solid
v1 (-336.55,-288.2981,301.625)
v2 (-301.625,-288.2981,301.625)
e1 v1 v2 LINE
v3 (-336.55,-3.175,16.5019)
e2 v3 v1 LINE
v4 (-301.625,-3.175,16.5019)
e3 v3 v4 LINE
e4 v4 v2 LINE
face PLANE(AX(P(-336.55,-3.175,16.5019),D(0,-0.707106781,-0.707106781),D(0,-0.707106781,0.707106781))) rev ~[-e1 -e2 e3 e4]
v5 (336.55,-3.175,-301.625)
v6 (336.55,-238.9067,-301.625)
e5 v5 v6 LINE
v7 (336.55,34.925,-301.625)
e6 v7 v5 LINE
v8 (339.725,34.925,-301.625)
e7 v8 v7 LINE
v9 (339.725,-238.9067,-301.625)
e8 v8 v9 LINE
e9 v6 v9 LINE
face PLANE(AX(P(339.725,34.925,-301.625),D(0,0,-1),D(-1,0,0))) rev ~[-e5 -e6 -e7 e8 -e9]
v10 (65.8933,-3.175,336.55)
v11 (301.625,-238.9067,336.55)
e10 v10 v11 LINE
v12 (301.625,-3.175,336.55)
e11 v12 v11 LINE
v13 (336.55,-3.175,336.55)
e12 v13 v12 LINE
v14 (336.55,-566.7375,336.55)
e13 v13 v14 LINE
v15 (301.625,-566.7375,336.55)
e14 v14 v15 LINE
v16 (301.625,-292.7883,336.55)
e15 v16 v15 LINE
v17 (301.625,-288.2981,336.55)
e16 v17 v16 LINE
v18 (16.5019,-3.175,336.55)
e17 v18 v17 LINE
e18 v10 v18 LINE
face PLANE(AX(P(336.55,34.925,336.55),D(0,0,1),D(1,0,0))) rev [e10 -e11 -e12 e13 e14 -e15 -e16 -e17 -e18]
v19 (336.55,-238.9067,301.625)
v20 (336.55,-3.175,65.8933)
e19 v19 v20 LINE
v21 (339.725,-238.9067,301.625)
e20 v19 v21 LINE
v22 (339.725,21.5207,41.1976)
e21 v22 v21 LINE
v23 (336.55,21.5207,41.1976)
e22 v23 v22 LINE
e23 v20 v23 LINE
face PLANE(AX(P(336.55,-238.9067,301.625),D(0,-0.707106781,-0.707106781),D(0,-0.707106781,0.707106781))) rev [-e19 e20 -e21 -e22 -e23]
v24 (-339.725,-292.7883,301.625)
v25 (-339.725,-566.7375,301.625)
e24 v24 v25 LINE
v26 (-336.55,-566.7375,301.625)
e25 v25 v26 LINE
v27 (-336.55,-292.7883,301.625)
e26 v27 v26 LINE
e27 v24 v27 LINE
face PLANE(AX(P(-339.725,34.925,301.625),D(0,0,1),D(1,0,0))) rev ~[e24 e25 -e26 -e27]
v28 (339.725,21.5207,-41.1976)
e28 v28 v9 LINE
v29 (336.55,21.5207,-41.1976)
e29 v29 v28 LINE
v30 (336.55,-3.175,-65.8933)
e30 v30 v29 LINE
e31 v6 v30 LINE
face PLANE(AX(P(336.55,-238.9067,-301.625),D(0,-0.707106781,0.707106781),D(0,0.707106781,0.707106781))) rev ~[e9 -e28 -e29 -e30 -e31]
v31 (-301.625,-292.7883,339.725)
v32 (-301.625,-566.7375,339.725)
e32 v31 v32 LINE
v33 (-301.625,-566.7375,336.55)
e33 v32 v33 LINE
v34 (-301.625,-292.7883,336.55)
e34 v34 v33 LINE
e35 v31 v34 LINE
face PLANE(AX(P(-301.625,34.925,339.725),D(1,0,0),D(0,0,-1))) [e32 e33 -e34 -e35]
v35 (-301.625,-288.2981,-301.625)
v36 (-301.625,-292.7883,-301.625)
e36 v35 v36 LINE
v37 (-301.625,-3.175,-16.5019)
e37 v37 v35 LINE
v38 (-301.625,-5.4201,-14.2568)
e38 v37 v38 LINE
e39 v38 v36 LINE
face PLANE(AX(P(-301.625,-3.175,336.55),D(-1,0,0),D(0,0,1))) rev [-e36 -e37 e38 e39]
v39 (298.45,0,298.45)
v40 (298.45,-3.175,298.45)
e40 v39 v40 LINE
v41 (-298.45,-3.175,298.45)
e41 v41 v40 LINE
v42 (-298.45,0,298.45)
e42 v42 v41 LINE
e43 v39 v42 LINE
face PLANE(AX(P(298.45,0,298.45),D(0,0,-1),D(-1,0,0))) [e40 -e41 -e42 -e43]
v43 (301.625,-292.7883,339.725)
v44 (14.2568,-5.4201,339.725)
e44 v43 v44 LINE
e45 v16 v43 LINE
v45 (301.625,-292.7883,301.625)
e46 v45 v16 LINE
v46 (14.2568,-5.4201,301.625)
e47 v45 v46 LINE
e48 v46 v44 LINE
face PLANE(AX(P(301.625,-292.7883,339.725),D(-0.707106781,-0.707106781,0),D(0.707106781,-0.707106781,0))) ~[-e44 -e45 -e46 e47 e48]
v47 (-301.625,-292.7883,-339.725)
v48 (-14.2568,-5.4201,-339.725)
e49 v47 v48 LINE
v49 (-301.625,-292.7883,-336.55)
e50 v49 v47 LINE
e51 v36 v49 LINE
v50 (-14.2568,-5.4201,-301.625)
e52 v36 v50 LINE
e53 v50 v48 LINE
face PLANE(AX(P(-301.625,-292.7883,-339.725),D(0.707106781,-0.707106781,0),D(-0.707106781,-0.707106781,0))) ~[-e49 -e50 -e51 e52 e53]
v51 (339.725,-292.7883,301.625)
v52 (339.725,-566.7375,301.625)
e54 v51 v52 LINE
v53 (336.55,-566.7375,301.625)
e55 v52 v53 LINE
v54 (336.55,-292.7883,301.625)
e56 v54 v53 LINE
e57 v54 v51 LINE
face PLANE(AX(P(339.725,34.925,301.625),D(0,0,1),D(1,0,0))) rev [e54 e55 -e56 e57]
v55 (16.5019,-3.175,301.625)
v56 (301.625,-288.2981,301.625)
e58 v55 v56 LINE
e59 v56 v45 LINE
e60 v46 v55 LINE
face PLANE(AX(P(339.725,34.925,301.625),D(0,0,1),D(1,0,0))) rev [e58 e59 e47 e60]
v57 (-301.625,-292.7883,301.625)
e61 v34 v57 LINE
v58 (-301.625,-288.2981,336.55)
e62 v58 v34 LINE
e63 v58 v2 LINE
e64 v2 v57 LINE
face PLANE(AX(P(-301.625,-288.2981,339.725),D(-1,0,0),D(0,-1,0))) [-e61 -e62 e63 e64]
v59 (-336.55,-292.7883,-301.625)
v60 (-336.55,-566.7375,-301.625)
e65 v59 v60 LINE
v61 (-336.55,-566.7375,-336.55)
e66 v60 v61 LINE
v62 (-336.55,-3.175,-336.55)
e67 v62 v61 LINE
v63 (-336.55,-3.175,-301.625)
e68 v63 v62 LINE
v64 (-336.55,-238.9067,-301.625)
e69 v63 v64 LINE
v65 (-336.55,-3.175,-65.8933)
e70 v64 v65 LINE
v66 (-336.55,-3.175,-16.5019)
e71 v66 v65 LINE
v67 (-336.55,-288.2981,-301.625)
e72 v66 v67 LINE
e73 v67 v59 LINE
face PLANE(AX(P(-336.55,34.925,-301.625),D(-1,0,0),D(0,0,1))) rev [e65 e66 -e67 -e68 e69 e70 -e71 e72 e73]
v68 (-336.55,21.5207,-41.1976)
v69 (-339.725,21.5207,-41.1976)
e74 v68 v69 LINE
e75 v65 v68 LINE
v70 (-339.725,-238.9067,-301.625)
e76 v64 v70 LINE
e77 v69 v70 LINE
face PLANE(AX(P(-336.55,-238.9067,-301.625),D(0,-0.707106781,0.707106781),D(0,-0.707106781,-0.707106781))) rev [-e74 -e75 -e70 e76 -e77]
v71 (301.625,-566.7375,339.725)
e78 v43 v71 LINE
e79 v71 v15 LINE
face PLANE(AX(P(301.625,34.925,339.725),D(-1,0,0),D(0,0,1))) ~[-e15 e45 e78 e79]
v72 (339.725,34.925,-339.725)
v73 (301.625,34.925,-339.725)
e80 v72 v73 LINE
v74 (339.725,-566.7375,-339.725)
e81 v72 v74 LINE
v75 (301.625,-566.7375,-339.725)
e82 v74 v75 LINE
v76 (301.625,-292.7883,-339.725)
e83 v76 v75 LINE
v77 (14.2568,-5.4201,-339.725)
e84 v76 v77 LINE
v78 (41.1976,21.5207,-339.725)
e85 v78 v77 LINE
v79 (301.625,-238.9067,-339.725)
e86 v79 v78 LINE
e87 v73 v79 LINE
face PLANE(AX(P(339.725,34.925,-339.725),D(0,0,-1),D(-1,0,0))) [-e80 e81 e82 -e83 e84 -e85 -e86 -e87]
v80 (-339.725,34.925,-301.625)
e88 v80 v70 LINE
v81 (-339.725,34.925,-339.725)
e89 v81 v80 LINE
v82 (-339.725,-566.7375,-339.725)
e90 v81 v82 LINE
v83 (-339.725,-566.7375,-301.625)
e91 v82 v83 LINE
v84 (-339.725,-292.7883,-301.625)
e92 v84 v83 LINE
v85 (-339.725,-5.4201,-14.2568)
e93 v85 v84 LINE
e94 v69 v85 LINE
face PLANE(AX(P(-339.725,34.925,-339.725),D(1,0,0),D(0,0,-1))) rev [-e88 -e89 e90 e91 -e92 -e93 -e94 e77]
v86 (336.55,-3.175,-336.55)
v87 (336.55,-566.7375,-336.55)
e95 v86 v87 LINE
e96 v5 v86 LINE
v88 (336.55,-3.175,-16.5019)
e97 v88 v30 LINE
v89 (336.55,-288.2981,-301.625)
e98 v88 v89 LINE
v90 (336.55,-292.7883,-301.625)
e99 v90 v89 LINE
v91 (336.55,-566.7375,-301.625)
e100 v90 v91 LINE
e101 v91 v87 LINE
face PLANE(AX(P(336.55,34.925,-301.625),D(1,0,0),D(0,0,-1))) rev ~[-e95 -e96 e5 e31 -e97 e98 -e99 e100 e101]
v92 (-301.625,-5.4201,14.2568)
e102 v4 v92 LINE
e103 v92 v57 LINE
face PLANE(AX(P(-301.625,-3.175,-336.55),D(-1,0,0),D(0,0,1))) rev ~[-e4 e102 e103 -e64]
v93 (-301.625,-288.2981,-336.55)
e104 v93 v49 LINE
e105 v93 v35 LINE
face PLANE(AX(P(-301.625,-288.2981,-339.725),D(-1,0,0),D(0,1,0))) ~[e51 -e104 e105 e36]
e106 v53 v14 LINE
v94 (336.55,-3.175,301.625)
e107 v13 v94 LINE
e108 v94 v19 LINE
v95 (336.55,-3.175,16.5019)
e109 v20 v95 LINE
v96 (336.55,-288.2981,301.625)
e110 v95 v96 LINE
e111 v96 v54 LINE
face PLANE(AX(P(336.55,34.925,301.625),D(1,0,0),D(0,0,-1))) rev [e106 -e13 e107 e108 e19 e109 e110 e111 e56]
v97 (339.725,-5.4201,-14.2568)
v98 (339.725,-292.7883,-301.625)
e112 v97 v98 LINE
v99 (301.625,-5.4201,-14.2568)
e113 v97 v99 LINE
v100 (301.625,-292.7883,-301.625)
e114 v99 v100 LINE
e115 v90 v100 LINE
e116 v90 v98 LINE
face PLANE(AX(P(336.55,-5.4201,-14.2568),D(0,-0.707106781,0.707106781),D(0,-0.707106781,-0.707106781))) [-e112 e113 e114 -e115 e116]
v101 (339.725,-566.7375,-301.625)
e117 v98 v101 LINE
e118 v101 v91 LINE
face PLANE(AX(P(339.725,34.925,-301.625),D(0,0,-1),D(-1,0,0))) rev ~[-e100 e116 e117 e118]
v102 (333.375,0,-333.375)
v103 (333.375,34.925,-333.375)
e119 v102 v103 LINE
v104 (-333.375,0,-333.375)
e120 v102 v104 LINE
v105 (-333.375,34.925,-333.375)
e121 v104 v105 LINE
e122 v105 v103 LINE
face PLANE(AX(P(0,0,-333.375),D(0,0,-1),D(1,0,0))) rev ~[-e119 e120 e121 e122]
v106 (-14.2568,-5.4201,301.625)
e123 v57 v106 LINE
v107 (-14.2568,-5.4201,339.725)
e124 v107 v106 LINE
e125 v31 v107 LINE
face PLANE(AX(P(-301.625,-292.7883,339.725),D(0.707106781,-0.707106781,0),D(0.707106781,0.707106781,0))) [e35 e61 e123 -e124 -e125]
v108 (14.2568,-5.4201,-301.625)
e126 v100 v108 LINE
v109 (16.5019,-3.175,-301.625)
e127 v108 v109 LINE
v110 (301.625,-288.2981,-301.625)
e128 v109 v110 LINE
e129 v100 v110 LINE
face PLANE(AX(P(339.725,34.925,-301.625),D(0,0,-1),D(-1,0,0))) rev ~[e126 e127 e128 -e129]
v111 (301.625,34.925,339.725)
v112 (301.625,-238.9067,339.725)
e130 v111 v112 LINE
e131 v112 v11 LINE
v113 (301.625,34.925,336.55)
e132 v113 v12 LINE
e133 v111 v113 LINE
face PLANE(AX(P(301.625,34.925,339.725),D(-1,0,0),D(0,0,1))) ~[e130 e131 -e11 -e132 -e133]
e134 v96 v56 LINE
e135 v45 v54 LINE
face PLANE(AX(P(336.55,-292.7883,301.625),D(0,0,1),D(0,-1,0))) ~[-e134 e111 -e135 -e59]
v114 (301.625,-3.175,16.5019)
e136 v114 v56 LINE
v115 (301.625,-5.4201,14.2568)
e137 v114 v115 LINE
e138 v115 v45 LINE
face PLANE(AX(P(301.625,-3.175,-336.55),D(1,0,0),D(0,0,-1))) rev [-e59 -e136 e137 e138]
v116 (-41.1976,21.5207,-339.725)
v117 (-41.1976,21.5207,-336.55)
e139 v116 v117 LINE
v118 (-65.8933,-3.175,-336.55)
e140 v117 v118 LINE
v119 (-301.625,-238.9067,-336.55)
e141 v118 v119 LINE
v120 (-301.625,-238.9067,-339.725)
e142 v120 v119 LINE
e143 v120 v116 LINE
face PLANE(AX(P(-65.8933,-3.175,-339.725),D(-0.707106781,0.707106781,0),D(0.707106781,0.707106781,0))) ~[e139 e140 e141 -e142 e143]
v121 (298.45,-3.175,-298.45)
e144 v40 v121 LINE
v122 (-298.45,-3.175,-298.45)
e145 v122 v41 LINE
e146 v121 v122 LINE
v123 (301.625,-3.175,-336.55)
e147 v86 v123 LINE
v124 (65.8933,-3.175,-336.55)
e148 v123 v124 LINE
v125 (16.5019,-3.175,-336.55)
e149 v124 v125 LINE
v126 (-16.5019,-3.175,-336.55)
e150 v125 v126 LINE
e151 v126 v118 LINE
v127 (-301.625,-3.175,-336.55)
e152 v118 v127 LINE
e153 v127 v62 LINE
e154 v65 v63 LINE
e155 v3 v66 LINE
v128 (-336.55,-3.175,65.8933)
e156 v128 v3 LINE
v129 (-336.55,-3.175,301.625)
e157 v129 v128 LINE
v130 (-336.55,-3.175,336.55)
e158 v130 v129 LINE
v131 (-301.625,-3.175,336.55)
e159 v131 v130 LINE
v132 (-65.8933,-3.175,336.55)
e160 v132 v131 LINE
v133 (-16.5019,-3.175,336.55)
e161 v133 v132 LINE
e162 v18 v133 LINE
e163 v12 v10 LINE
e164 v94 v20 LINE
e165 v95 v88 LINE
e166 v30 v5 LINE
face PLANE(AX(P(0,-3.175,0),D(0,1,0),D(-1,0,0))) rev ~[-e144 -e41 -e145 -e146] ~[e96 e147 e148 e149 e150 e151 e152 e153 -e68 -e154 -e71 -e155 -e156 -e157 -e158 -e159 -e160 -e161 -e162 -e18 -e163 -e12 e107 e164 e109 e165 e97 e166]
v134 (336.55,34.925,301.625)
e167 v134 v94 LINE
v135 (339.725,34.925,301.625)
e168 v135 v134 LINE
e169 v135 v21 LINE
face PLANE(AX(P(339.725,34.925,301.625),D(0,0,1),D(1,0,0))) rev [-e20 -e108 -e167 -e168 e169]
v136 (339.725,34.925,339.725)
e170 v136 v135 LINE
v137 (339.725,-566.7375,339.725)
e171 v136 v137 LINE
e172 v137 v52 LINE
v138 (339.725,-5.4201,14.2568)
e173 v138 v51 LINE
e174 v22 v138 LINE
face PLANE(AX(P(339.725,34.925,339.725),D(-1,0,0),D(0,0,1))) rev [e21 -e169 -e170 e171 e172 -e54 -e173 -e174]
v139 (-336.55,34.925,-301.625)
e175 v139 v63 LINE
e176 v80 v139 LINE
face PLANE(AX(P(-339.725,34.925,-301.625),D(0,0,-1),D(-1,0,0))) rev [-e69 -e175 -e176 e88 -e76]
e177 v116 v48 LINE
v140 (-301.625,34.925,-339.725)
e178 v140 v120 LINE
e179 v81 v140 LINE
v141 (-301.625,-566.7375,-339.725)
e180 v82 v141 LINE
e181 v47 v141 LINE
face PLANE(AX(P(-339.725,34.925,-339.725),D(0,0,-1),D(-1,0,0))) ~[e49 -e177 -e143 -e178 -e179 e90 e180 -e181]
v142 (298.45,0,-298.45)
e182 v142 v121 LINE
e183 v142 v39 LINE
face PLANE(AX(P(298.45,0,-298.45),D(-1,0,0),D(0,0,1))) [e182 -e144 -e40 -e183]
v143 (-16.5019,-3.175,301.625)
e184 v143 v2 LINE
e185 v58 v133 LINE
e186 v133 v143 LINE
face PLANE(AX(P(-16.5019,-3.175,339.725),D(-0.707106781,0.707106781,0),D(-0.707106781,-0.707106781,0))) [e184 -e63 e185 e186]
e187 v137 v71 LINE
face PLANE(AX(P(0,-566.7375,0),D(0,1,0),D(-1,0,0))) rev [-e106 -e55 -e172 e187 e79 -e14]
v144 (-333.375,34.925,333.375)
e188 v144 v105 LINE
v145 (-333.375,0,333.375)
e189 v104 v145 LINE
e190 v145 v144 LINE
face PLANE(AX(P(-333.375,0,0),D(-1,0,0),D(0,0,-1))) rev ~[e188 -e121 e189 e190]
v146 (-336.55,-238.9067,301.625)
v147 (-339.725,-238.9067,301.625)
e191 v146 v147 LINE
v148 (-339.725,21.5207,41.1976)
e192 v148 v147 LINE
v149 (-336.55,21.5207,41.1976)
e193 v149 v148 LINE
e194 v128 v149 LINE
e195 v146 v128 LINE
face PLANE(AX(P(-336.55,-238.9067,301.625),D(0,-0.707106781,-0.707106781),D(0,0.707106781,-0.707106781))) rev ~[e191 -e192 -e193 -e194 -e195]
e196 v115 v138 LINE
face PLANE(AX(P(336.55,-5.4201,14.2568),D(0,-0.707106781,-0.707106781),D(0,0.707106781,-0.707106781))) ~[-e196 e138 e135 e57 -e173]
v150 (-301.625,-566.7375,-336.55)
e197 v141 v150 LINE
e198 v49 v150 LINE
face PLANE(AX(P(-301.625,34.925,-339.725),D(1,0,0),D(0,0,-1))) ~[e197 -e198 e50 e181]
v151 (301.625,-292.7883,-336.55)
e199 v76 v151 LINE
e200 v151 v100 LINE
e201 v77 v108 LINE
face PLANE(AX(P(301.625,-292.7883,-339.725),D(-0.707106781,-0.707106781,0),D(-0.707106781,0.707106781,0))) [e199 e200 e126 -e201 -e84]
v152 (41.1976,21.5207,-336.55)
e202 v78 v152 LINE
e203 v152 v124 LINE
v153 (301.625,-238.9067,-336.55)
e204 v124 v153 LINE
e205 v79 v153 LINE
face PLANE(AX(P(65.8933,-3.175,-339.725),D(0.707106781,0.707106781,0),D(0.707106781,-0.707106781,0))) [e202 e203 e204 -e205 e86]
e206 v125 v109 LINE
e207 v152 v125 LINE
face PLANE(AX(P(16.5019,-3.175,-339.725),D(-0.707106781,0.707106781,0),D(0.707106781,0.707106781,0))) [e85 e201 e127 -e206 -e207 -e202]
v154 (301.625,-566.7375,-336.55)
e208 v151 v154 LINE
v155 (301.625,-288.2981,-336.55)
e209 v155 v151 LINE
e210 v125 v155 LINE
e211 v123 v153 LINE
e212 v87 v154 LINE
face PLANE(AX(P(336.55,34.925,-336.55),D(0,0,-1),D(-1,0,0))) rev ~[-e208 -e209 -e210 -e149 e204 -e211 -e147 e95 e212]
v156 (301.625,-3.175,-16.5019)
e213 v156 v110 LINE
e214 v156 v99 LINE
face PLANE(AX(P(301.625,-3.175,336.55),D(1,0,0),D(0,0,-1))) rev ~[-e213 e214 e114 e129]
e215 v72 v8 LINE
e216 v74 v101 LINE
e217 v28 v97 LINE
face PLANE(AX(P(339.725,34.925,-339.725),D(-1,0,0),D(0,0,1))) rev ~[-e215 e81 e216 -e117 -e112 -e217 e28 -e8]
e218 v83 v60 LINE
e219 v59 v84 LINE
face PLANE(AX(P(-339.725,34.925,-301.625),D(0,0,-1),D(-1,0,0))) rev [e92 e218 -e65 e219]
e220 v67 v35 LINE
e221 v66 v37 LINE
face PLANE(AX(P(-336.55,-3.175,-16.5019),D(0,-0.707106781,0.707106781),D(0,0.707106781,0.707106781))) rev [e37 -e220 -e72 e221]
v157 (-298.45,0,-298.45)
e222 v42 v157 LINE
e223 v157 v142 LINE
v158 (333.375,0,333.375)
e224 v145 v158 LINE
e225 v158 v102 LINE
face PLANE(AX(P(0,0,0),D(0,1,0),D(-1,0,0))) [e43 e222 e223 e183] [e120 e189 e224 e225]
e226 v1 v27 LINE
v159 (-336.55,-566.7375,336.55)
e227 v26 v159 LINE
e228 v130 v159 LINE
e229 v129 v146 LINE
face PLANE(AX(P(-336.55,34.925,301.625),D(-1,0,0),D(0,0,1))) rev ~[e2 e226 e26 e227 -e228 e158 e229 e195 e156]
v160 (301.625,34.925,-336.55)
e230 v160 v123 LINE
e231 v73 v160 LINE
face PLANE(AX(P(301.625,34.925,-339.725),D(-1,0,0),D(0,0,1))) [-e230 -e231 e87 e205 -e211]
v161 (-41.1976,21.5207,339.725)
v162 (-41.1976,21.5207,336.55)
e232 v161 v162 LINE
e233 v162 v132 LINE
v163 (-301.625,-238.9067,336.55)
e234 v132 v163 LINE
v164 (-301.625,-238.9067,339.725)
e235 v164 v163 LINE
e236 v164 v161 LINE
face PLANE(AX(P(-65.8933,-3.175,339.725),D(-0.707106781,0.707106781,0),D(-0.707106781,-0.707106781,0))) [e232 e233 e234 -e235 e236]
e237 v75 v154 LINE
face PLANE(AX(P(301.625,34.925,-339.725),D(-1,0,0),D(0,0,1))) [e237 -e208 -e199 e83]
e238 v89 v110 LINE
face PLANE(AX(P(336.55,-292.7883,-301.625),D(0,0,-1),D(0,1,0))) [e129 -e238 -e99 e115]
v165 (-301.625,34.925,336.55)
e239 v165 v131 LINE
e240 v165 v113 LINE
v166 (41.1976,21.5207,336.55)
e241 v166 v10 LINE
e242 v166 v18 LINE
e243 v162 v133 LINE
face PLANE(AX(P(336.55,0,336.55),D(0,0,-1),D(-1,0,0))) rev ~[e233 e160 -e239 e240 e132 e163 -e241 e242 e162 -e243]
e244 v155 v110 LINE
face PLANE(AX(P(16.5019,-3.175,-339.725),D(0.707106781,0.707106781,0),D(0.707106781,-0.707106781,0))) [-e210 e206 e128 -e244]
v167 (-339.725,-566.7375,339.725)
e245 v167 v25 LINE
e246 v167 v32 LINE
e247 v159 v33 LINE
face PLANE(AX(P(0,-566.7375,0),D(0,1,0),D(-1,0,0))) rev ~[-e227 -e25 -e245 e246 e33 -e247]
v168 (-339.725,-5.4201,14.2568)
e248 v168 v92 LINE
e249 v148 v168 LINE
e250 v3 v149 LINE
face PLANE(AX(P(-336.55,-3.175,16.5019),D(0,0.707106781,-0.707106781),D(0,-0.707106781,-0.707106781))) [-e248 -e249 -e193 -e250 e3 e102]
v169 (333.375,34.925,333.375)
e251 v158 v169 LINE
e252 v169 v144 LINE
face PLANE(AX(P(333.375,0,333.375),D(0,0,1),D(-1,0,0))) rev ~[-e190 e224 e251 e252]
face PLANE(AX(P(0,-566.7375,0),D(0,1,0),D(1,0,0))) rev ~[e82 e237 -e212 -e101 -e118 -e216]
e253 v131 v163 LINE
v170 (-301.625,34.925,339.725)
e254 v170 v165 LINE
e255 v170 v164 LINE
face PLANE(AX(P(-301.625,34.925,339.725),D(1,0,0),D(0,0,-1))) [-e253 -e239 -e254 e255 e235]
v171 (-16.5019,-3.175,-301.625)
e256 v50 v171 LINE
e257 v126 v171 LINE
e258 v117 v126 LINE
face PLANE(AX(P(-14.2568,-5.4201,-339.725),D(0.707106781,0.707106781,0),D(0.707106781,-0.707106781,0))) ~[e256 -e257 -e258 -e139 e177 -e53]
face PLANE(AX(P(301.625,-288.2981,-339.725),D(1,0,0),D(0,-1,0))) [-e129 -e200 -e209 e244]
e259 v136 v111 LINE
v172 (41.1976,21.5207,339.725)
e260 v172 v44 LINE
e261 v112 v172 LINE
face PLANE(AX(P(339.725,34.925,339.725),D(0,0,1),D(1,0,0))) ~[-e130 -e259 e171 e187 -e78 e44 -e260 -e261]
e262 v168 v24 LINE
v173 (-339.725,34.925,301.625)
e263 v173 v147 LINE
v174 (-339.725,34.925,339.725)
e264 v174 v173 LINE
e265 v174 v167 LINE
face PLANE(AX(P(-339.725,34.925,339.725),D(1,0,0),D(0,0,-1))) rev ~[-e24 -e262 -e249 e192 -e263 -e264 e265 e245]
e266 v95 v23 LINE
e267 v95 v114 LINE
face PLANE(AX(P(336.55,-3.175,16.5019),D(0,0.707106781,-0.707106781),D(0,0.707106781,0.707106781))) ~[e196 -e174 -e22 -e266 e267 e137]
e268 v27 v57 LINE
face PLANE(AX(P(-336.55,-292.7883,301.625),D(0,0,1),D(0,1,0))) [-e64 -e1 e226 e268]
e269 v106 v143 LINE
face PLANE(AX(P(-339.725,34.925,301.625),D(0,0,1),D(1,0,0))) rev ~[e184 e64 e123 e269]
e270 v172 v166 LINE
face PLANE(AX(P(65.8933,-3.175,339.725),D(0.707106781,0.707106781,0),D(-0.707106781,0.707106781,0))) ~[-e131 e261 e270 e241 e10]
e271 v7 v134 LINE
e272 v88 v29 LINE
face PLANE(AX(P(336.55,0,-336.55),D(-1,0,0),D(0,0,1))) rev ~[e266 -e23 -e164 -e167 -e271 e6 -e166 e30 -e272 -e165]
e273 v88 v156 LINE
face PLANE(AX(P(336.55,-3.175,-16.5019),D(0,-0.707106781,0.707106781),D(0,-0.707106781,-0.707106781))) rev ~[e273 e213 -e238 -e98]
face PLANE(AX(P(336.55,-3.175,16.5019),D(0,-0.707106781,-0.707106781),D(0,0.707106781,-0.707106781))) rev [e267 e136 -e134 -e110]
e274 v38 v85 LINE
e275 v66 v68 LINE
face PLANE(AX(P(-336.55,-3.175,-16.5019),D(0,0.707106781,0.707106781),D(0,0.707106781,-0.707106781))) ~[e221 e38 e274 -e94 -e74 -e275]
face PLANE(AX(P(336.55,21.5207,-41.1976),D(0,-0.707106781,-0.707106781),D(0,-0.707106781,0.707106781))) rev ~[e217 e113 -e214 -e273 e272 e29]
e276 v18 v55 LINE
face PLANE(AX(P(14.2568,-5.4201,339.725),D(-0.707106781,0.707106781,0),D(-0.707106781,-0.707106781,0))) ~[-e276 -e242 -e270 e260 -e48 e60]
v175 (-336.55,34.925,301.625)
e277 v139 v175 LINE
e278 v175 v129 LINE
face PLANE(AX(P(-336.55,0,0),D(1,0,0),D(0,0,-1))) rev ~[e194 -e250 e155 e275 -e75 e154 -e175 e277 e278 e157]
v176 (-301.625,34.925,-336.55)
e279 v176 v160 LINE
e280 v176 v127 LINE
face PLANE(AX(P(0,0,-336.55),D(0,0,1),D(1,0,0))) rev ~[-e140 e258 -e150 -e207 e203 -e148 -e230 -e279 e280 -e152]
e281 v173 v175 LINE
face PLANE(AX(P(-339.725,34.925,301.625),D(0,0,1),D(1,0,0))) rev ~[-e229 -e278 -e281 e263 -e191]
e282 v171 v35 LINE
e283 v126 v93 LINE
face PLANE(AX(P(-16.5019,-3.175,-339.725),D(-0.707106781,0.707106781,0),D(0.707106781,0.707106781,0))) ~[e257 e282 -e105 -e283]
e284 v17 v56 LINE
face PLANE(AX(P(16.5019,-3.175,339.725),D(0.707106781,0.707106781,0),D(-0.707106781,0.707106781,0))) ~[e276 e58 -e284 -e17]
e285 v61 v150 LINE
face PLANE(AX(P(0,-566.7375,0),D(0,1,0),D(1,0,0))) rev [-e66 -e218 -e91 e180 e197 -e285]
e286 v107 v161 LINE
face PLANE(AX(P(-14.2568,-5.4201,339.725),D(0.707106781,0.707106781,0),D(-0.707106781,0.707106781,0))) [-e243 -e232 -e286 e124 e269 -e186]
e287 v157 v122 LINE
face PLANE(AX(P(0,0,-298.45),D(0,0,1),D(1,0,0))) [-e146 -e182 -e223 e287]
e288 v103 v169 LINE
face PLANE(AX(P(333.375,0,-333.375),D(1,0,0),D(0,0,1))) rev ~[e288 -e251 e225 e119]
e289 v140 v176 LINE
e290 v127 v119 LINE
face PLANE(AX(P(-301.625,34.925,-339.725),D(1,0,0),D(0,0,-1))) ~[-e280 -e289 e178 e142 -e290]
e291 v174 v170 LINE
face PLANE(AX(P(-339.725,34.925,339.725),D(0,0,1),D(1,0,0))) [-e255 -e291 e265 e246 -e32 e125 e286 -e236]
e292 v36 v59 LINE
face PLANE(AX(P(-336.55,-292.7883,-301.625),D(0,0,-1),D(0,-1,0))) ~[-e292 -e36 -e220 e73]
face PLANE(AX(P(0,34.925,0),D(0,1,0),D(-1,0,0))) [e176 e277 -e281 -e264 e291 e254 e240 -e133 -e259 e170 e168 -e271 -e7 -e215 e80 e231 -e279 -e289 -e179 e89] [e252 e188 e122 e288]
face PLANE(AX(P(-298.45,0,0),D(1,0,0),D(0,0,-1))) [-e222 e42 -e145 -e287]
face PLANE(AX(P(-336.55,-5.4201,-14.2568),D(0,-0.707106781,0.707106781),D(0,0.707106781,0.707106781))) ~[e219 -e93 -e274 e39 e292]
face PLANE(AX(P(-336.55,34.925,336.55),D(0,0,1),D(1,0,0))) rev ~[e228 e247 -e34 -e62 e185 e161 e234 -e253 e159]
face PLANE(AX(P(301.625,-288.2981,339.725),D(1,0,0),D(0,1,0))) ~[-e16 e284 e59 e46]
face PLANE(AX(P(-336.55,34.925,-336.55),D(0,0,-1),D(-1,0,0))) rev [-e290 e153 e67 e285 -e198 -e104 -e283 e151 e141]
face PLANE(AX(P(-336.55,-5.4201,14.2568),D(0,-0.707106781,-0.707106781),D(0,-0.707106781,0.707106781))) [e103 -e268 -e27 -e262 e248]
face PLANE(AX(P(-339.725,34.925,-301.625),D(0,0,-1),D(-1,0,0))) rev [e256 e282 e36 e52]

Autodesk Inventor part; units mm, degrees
ref_plane "YZ Plane" through (0, 0, 0) normal (1, 0, 0) x (0, 1, 0)
ref_plane "XZ Plane" through (0, 0, 0) normal (0, 1, 0) x (-1, 0, 0)
ref_plane "XY Plane" through (0, 0, 0) normal (0, 0, 1) x (1, 0, 0)
sketch "Sketch1" plane through (0, 0, 0) normal (0, 1, 0) x (-1, 0, 0)
  line L0 (0, -471.17) -> (0, 471.17) projected
  line L1 (471.17, 0) -> (-471.17, 0) projected
  line L2 (-333.375, 333.375) -> (333.375, 333.375)
  line L3 (333.375, 333.375) -> (333.375, -333.375)
  line L4 (333.375, -333.375) -> (-333.375, -333.375)
  line L5 (-333.375, -333.375) -> (-333.375, 333.375)
  line L6 (-298.45, 298.45) -> (298.45, 298.45)
  line L7 (298.45, 298.45) -> (298.45, -298.45)
  line L8 (298.45, -298.45) -> (-298.45, -298.45)
  line L9 (-298.45, -298.45) -> (-298.45, 298.45)
  line L10 (-336.55, 336.55) -> (336.55, 336.55)
  line L11 (336.55, 336.55) -> (336.55, -336.55)
  line L12 (336.55, -336.55) -> (-336.55, -336.55)
  line L13 (-336.55, -336.55) -> (-336.55, 336.55)
  point P0 (0, 0)
  dimension "d0" = 666.75
  dimension "d1" = 666.75
  dimension "d4" = 3.175
  dimension "d5" = 3.175
  dimension "d50" = 38.1
  dimension "d51" = 38.1
extrude "Extrusion1" add sketch "Sketch1" against normal blind 3.175 contours L12 L13 L1 L5 L4 L0 | L0 L4 L3 L1 L11 L12 | L4 L5 L1 L9 L8 L0 | L0 L8 L7 L1 L3 L4 | L1 L3 L2 L0 L10 L11 | L13 L10 L0 L2 L5 L1 | L1 L7 L6 L0 L2 L3 | L5 L2 L0 L6 L9 L1
extrude "Extrusion2" add sketch "Sketch1" along normal blind 34.925 contours L12 L13 L1 L5 L4 L0 | L0 L4 L3 L1 L11 L12 | L1 L3 L2 L0 L10 L11 | L13 L10 L0 L2 L5 L1
sketch "Sketch2" plane through (0, 34.925, 0) normal (0, 1, 0) x (1, 0, 0)
  line L0 (336.55, -336.55) -> (336.55, 336.55) projected
  line L1 (336.55, 336.55) -> (-336.55, 336.55) projected
  line L2 (301.625, 336.55) -> (336.55, 336.55)
  line L3 (339.725, 339.725) -> (301.625, 339.725)
  line L4 (301.625, 339.725) -> (301.625, 336.55)
  line L5 (339.725, 339.725) -> (339.725, 301.625)
  line L6 (339.725, 301.625) -> (336.55, 301.625)
  line L7 (336.55, 301.625) -> (336.55, 336.55)
  point P0 (0, 0)
  dimension "d10" = 3.175
  dimension "d15" = 3.175
  dimension "d52" = 38.1
  dimension "d53" = 38.1
extrude "Extrusion3" add sketch "Sketch2" against normal blind 601.6625
sketch "Sketch4" plane through (336.55, -3.175, 336.55) normal (1, 0, 0) x (0, 0, -1)
  line L0 (673.1, 0) -> (0, 0) projected
  line L1 (377.7476, 24.6957) -> (350.8068, -2.2451)
  line L2 (350.8068, -2.2451) -> (638.175, -289.6133)
  line L3 (638.175, -289.6133) -> (638.175, -235.7317)
  line L4 (638.175, -235.7317) -> (377.7476, 24.6957)
  line L5 (638.175, 38.1) -> (638.175, -563.5625) projected
  line L6 (676.275, -563.5625) -> (638.175, -563.5625) projected
  line L7 (353.0519, 0) -> (638.175, -285.1231)
  line L8 (353.0519, 0) -> (350.8068, -2.2451)
  line L9 (350.8068, -2.2451) -> (638.175, -289.6133)
  line L10 (638.175, -289.6133) -> (638.175, -285.1231)
  line L11 (638.175, -285.1231) -> (353.0519, 0)
  point P0 (336.55, 3.175)
  point P1 (676.275, -339.725)
  dimension "d23" = 38.1
  dimension "d28" = 3.175
  dimension "d47" = 45
  dimension "d49" = 406.4
extrude "Extrusion5" add sketch "Sketch4" against normal blind 34.925 contours L7 L3 L2 L1
extrude "Extrusion6" add sketch "Sketch4" along normal blind 3.175 contours L4 L3 L7 L0 | L0 L1 L4 | L7 L3 L2 L1
sketch "Sketch5" plane through (339.725, 34.925, -339.725) normal (0, 0, -1) x (-1, 0, 0)
  line L0 (38.1, 0) -> (38.1, -601.6625) projected
  line L1 (676.275, -38.1) -> (38.1, -38.1) projected
  line L2 (676.275, 0) -> (676.275, -38.1) projected
  line L3 (38.1, 0) -> (676.275, 0) projected
  line L4 (38.1, -327.7133) -> (325.4682, -40.3451)
  line L5 (325.4682, -40.3451) -> (298.5274, -13.4043)
  line L6 (298.5274, -13.4043) -> (38.1, -273.8317)
  line L7 (38.1, -273.8317) -> (38.1, -327.7133)
  line L8 (323.2231, -38.1) -> (38.1, -323.2231)
  line L9 (38.1, 0) -> (38.1, -38.1) projected
  point P0 (0, -381)
  point P1 (339.725, -34.925)
  dimension "d33" = 38.1
  dimension "d35" = 3.175
  dimension "d45" = 45
  dimension "d48" = 406.4
extrude "Extrusion7" add sketch "Sketch5" against normal blind 3.175 contours L6 L1 L8 L0 | L6 L5 L1 | L8 L5 L4 L0
extrude "Extrusion8" add sketch "Sketch5" against normal blind 38.1 contours L8 L5 L4 L0
mirror "Mirror1" about plane through (0, 0, 0) normal (0, 0, 1) of "Extrusion8", "Extrusion7", "Extrusion6", "Extrusion5", "Extrusion3"
mirror "Mirror2" about plane through (0, 0, 0) normal (1, 0, 0) of "Extrusion8", "Extrusion7", "Extrusion6", "Extrusion5", "Extrusion3", "Mirror1"
properties part number "Single_Burner_Stand"
